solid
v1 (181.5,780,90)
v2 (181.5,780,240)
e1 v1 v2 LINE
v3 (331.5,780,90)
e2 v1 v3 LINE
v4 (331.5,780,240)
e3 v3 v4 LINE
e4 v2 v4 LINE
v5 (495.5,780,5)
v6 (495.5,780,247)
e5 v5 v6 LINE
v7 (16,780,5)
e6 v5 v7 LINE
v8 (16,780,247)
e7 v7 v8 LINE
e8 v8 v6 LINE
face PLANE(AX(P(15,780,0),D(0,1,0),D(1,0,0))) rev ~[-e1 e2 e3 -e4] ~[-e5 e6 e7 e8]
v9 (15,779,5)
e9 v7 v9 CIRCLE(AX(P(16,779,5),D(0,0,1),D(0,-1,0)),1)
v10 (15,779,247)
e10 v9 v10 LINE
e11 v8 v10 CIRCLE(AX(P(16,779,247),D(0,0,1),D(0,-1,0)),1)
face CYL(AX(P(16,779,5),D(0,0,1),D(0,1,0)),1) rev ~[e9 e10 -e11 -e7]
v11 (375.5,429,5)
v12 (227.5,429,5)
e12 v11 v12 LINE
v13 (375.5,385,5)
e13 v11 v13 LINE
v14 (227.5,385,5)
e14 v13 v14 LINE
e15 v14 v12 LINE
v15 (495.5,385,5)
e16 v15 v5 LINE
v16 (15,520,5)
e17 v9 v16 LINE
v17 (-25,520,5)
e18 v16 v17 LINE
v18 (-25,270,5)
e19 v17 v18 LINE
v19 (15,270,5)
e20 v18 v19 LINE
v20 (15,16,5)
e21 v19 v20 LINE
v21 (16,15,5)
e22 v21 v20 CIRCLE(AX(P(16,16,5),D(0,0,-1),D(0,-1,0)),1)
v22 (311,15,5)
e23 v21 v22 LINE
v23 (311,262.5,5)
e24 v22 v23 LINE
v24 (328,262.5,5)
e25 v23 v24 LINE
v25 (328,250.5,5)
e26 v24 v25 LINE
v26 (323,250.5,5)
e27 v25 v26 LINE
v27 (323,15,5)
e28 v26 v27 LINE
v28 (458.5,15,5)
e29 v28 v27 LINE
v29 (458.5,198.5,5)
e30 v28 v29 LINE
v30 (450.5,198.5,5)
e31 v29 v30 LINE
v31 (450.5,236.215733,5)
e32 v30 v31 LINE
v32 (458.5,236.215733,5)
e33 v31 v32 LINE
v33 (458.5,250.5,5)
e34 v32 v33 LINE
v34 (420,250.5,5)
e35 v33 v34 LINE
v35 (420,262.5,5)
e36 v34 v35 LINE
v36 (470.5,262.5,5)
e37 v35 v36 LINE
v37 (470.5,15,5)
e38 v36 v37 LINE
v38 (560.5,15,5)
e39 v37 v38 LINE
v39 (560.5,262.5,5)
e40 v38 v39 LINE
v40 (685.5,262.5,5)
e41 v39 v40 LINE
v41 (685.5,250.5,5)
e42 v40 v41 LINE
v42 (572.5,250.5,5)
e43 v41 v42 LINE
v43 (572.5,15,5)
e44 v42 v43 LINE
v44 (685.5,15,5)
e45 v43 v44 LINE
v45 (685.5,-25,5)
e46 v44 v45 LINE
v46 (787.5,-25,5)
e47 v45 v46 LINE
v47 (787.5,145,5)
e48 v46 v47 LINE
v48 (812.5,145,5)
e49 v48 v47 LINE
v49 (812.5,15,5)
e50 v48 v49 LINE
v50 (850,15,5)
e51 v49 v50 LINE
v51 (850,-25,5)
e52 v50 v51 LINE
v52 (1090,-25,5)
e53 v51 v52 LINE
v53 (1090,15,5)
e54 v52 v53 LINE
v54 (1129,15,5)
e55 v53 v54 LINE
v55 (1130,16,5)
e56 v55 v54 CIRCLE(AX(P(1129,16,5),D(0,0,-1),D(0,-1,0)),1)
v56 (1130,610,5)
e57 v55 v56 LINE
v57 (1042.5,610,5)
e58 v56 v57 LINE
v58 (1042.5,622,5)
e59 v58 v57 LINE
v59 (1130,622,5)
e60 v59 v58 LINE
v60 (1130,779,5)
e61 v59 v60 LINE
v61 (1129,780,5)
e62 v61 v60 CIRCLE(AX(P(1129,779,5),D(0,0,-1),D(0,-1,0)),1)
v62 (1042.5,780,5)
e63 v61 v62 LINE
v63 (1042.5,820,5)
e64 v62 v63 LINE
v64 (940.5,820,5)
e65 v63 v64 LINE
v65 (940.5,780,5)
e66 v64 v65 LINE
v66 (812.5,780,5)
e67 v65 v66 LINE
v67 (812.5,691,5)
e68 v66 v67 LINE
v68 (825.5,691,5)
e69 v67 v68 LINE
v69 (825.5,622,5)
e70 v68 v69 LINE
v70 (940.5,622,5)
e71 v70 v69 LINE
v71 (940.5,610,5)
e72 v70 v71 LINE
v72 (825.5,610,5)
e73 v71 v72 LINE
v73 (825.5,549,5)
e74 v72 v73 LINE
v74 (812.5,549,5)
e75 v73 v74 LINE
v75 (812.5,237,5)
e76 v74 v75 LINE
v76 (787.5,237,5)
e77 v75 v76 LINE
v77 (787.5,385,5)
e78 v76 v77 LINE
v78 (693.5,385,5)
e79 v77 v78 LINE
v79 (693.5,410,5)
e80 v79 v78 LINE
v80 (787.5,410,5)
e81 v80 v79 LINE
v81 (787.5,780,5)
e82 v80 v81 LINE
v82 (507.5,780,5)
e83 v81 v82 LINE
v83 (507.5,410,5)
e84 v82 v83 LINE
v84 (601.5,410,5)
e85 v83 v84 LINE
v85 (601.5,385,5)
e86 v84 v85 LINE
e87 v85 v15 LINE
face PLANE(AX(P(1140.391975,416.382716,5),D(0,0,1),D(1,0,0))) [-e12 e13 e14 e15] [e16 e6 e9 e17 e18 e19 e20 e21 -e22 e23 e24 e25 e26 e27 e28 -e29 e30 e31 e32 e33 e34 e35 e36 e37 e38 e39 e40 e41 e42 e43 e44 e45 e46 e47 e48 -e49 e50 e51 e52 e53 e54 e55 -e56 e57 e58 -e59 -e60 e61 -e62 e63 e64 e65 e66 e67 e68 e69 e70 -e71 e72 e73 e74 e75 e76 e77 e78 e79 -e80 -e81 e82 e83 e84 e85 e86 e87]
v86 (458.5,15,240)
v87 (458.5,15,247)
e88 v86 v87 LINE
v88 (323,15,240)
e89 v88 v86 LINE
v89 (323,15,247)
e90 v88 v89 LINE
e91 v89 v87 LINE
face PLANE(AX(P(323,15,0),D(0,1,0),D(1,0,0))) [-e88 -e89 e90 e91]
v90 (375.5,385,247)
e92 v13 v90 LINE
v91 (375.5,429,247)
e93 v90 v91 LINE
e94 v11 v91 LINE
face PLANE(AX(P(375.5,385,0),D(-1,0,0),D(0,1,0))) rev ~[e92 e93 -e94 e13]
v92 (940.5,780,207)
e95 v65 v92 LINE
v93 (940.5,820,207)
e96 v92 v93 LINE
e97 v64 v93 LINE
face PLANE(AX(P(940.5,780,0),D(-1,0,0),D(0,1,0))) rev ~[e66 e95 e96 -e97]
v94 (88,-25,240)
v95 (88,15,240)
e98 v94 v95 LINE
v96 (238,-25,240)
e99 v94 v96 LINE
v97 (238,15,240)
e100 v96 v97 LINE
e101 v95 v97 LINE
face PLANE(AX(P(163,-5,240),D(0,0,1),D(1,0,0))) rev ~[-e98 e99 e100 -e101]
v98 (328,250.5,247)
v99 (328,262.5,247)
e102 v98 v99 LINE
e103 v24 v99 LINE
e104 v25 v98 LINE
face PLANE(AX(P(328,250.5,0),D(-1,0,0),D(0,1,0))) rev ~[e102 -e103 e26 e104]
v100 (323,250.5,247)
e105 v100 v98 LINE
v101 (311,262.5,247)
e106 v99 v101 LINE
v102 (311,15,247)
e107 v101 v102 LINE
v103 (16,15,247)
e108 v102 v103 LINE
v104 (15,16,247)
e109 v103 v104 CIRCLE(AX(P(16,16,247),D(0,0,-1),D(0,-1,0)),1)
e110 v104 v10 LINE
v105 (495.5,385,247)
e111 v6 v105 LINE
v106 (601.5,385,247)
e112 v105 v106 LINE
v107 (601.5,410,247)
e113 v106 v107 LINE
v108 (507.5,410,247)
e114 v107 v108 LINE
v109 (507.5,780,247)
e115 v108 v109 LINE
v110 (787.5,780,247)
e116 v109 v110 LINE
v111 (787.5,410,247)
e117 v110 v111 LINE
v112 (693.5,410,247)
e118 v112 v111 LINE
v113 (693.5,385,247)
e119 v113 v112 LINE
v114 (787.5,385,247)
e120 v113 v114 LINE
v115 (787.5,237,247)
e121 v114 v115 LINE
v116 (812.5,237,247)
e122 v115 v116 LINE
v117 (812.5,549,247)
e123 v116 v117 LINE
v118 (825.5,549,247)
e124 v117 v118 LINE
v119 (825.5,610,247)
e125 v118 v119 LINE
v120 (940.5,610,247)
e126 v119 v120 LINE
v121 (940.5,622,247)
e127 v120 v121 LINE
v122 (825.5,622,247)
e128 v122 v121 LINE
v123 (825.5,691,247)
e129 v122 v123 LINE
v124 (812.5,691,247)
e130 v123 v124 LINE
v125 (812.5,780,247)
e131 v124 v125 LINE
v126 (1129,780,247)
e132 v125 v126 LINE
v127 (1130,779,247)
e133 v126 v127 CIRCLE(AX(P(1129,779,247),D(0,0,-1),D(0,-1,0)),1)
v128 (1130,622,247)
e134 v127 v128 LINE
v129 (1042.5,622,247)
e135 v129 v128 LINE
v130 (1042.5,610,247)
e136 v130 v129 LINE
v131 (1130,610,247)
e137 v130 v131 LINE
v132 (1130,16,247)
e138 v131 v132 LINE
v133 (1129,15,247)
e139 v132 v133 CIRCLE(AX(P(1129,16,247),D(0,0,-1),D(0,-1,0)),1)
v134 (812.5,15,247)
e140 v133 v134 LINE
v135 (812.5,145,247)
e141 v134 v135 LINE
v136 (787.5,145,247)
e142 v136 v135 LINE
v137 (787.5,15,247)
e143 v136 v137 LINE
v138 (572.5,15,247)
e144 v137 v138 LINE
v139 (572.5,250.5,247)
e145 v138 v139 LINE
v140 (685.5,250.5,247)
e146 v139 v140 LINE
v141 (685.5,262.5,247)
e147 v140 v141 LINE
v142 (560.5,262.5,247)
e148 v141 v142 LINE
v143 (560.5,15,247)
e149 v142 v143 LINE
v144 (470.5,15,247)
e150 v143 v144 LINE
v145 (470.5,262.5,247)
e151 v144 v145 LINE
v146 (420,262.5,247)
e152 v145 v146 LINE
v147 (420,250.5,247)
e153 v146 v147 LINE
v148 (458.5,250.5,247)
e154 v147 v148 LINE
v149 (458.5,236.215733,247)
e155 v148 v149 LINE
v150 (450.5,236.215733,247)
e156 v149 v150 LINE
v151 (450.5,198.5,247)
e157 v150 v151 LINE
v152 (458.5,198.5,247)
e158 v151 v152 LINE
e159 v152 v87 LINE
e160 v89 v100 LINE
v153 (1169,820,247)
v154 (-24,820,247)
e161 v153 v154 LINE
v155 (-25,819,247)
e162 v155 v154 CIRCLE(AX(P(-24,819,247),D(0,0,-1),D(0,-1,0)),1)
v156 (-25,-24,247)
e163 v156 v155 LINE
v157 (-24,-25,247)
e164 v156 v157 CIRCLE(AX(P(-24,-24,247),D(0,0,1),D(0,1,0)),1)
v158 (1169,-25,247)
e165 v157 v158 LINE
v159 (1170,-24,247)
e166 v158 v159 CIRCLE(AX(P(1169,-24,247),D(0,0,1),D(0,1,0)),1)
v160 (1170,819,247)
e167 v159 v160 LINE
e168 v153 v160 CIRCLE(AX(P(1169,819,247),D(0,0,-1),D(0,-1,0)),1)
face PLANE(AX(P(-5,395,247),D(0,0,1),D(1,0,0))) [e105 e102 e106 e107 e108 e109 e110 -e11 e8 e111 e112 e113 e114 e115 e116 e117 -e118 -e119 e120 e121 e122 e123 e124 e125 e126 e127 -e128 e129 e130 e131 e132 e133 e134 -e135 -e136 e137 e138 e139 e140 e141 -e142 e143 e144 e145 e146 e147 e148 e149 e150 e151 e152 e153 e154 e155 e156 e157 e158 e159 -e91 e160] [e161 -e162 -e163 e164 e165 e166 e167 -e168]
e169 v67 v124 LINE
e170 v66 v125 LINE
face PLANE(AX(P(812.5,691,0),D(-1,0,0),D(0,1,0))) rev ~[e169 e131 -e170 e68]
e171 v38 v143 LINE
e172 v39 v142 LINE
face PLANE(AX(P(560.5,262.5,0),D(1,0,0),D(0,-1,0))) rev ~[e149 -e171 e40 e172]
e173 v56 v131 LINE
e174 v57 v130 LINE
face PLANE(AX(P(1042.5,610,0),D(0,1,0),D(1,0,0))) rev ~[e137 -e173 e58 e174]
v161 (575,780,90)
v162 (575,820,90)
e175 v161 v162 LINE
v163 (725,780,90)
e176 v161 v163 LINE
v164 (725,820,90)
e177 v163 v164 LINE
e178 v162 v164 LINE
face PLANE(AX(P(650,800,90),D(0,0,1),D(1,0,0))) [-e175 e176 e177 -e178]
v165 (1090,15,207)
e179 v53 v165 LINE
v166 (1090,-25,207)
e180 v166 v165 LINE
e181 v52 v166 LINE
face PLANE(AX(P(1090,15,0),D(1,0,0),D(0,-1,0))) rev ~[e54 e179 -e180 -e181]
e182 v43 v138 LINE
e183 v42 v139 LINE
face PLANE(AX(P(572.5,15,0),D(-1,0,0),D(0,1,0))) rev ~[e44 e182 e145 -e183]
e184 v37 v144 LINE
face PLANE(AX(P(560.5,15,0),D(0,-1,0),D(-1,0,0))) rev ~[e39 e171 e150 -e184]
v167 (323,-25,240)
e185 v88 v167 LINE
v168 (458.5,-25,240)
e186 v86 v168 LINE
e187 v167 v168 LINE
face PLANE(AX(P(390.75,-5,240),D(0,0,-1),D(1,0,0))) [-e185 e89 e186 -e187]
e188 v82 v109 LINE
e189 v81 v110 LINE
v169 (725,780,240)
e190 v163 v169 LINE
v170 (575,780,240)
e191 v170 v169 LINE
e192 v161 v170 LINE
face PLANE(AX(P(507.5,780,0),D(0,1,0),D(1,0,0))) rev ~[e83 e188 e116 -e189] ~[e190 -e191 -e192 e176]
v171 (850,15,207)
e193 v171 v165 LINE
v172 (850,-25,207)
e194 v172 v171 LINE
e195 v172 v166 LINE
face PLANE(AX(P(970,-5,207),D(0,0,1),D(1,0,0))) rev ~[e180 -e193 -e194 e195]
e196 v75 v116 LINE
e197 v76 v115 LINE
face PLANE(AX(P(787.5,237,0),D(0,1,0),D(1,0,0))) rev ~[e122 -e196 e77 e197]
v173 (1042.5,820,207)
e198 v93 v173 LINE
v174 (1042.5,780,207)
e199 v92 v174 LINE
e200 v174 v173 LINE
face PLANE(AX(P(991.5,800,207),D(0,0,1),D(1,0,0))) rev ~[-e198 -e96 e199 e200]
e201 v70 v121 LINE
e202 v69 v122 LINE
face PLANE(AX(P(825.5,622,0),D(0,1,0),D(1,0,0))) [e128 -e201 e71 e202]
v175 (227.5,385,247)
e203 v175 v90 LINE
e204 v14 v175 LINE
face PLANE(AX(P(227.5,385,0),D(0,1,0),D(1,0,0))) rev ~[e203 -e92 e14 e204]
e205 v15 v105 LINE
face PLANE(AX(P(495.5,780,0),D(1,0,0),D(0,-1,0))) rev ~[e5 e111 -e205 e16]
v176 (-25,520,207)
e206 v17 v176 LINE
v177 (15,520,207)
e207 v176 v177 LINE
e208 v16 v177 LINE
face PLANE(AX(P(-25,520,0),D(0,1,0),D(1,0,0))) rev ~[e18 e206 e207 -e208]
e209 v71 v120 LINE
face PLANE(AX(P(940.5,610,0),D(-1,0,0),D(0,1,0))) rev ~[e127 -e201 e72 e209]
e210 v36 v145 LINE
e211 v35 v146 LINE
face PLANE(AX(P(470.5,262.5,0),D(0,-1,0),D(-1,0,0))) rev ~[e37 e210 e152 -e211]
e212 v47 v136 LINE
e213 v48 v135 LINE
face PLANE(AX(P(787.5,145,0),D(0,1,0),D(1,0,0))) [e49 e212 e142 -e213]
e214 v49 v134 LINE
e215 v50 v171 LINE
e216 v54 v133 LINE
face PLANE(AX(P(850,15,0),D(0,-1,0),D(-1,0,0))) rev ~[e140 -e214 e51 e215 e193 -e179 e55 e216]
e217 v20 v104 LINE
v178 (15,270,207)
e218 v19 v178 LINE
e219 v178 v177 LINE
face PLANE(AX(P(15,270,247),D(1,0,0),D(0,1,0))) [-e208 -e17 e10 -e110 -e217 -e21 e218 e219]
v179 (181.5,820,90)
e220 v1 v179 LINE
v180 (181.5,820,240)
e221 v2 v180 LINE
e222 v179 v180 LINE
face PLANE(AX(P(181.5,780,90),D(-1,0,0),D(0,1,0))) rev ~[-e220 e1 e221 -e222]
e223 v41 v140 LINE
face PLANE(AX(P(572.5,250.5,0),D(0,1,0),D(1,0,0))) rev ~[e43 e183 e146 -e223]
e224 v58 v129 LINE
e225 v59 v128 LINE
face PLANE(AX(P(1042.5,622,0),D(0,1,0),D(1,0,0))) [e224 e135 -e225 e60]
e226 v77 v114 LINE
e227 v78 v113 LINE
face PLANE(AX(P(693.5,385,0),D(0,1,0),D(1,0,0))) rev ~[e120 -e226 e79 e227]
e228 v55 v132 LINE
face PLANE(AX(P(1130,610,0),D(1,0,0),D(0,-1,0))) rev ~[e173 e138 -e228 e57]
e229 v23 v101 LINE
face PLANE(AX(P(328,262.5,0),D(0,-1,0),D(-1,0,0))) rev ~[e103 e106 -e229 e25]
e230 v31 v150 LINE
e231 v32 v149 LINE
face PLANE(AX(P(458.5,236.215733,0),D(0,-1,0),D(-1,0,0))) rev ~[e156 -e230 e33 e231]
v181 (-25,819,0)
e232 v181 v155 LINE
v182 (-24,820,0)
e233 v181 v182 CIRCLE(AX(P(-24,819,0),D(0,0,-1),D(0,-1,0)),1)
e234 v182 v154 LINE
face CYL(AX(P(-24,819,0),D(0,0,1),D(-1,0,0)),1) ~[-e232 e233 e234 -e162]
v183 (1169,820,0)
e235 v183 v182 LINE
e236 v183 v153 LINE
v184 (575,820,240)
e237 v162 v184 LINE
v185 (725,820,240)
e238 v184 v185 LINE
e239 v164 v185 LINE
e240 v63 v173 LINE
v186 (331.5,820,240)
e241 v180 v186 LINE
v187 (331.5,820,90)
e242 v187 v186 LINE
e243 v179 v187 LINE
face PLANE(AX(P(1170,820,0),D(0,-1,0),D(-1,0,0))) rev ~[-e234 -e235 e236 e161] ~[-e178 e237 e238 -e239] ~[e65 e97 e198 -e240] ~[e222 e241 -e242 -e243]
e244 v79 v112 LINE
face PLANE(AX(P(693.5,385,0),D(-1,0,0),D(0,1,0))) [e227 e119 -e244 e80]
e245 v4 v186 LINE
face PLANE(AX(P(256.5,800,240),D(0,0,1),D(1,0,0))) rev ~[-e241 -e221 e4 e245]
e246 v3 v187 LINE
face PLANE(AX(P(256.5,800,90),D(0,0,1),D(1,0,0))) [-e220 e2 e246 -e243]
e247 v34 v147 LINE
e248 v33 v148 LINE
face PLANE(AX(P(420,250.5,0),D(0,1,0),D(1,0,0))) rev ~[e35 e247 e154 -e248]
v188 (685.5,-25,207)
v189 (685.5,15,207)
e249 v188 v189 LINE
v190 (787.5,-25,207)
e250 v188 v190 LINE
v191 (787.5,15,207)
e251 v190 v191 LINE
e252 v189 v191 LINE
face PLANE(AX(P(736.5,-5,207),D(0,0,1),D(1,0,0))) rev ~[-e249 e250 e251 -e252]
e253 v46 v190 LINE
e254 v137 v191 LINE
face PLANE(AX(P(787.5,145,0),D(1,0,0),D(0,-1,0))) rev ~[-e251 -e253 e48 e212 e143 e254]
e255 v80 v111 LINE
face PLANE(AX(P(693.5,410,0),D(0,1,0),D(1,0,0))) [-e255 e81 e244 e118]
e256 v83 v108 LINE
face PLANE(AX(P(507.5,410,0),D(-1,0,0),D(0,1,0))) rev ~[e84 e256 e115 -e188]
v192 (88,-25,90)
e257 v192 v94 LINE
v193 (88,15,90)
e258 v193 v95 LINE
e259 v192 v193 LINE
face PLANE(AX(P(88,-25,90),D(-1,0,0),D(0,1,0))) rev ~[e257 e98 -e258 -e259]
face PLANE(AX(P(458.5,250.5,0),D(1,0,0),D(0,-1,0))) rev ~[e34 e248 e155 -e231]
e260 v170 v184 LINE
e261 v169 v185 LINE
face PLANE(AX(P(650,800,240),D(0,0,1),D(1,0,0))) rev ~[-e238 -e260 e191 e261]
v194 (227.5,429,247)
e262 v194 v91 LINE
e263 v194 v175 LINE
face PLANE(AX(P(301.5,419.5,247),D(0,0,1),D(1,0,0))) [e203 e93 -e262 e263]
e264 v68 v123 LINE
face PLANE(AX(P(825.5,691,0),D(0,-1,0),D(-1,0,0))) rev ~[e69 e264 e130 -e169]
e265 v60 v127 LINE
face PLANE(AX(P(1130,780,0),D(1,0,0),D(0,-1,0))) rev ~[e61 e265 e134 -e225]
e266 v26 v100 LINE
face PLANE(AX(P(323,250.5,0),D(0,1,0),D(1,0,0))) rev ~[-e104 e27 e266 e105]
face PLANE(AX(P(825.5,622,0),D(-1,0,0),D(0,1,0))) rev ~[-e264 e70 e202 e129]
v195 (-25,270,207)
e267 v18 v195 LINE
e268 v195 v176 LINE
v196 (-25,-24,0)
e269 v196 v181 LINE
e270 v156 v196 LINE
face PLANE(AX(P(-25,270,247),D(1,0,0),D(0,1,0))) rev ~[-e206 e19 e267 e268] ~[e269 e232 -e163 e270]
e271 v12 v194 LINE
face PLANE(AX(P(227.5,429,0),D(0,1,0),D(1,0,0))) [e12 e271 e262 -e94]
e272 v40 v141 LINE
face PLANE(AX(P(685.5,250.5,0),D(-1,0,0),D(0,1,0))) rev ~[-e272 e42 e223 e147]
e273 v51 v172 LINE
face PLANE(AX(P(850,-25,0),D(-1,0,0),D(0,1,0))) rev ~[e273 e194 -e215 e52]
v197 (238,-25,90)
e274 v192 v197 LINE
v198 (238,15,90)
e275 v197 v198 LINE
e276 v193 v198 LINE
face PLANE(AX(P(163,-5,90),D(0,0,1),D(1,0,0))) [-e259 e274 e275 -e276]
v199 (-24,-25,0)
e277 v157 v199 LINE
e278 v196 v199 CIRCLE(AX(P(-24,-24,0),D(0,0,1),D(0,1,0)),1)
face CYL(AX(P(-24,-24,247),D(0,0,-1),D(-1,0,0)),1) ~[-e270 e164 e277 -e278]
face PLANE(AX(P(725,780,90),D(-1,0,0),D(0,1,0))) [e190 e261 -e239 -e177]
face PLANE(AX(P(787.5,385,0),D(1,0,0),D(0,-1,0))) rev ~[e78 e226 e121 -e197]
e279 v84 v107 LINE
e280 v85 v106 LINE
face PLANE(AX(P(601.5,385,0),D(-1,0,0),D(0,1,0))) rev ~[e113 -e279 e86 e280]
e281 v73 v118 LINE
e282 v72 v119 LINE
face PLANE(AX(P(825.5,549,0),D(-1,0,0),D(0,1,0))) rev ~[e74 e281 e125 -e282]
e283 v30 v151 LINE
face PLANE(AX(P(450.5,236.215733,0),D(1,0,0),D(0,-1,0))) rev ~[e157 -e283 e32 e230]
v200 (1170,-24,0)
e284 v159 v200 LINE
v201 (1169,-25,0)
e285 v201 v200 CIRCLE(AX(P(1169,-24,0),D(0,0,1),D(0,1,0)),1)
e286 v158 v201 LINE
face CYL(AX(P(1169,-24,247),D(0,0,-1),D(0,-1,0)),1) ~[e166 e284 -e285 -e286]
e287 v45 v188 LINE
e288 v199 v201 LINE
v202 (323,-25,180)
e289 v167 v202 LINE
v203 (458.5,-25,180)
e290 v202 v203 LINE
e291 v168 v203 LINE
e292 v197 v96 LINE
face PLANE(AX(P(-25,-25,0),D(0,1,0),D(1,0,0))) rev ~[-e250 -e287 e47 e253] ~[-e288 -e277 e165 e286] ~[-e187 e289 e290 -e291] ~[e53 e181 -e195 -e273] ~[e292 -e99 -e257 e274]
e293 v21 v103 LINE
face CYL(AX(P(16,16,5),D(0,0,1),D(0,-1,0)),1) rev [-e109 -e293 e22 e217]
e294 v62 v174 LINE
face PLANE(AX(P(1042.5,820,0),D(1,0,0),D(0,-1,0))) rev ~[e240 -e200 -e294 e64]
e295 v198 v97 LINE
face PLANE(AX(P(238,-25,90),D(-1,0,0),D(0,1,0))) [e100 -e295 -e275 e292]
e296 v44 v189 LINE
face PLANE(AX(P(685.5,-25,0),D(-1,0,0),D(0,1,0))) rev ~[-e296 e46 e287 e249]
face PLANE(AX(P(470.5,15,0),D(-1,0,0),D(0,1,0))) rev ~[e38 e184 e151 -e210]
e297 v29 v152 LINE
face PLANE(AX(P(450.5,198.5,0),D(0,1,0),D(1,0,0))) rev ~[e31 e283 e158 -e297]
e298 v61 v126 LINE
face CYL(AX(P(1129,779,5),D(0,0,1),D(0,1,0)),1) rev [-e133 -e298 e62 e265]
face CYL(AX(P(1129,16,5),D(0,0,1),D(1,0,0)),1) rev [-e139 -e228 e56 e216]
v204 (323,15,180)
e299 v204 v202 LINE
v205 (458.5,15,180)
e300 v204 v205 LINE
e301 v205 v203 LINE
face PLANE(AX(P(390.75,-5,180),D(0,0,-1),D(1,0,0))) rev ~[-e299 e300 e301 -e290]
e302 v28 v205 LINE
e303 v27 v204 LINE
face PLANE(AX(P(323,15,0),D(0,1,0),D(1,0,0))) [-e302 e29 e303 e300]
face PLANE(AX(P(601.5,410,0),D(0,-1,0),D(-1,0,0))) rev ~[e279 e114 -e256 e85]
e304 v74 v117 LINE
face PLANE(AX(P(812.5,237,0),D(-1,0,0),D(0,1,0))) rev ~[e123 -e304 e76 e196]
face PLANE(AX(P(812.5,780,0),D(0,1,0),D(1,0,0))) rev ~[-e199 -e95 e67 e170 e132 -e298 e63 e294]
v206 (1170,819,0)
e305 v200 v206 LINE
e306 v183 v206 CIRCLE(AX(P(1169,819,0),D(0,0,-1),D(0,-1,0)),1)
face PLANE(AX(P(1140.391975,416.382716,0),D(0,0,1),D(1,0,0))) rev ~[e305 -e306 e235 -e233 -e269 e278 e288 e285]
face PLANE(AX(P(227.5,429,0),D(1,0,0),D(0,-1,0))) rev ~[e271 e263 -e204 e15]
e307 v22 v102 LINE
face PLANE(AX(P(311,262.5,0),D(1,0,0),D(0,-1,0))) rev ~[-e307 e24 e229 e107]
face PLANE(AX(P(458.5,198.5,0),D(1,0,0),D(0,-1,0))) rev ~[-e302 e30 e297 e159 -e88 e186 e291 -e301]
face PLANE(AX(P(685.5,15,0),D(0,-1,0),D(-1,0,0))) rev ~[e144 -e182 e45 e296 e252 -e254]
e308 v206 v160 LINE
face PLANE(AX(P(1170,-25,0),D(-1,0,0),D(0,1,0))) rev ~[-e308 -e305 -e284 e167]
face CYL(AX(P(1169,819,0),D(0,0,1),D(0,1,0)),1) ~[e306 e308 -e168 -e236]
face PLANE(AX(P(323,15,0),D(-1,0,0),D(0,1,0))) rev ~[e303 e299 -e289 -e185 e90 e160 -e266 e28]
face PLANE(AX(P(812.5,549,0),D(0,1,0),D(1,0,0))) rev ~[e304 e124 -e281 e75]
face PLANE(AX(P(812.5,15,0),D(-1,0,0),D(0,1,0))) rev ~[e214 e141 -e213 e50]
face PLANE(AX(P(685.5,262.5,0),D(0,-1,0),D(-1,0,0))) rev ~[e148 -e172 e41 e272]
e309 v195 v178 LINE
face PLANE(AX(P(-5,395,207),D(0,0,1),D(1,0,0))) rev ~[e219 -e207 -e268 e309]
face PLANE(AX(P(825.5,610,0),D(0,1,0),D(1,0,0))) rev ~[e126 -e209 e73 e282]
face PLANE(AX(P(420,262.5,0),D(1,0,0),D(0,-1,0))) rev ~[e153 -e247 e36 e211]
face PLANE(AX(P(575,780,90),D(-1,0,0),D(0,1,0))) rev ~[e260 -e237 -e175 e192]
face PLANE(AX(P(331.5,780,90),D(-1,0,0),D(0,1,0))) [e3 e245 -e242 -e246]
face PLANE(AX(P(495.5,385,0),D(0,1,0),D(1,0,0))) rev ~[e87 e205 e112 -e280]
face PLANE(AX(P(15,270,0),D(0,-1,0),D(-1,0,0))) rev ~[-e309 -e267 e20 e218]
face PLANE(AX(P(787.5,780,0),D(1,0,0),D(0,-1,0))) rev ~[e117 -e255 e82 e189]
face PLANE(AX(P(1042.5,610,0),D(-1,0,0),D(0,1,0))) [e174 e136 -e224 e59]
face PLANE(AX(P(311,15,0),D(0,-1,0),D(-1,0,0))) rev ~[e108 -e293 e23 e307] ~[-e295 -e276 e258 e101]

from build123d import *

# Parameters (mm, degrees)
F0_W     = 102
F0_H     = 40
F0_W_2   = 240
F0_W_3   = 94
F0_H_2   = 25
F0_W_4   = 148
F0_W_5   = 92
F0_W_6   = 120
F0_H_3   = 19
F0_W_7   = 25
F0_H_4   = 92
F0_H_5   = 12
F0_W_8   = 12
F0_H_6   = 370
F0_W_9   = 87.5
F0_H_7   = 130
F0_W_10  = 212.5
F0_W_11  = 115
F0_W_12  = 150
F0_W_13  = 135.5
F1_DEPTH = 5
F2_DEPTH = 247
F3_W     = 40
F3_H     = 250
F3_W_2   = 102
F3_H_2   = 40
F3_W_3   = 240
F4_DEPTH = 40
F6_W     = 150
F6_H     = 40
F7_DEPTH = 150
F8_W     = 135.5
F8_H     = 40
F9_DEPTH = 60
F10_R    = 1


with BuildPart() as f1:
    # F0 (on Top) → F1 (new body)
    with BuildSketch(Plane.XY):
        Polygon((1170, -25), (1170, 820), (1042.5, 820), (1042.5, 780), (1130, 780), (1130, 622), (1130, 610), (1130, 15), (1090, 15), (1090, -25), align=None)
        with Locations((991.5, 800)):
            Rectangle(F0_W, F0_H)
        Polygon((940.5, 780), (940.5, 820), (725, 820), (725, 780), (787.5, 780), (812.5, 780), align=None)
        Polygon((15, 520), (-25, 520), (-25, 270), (15, 270), (15, 385), (15, 410), align=None)
        Polygon((458.5, -25), (685.5, -25), (685.5, 15), (572.5, 15), (560.5, 15), (470.5, 15), (458.5, 15), align=None)
        Polygon((685.5, -25), (787.5, -25), (787.5, 0), (787.5, 15), (685.5, 15), align=None)
        Polygon((787.5, -25), (850, -25), (850, 15), (812.5, 15), (787.5, 15), (787.5, 0), align=None)
        with Locations((970, -5)):
            Rectangle(F0_W_2, F0_H)
        Polygon((850, 15), (1090, 15), (1130, 15), (1130, 610), (1042.5, 610), (940.5, 610), (825.5, 610), (825.5, 549), (812.5, 549), (812.5, 237), (812.5, 145), (812.5, 15), align=None)
        with Locations((740.5, 397.5)):
            Rectangle(F0_W_3, F0_H_2)
        with Locations((301.5, 397.5)):
            Rectangle(F0_W_4, F0_H_2)
        with Locations((647.5, 397.5)):
            Rectangle(F0_W_5, F0_H_2)
        Polygon((601.5, 410), (507.5, 410), (495.5, 410), (495.5, 385), (601.5, 385), align=None)
        with Locations((435.5, 397.5)):
            Rectangle(F0_W_6, F0_H_2)
        Polygon((825.5, 691), (812.5, 691), (812.5, 549), (825.5, 549), (825.5, 610), (825.5, 622), align=None)
        with Locations((301.5, 419.5)):
            Rectangle(F0_W_4, F0_H_3)
        Polygon((495.5, 780), (331.5, 780), (181.5, 780), (15, 780), (15, 520), (15, 410), (227.5, 410), (227.5, 429), (375.5, 429), (375.5, 410), (495.5, 410), align=None)
        Polygon((1130, 780), (1042.5, 780), (940.5, 780), (812.5, 780), (812.5, 691), (825.5, 691), (825.5, 622), (940.5, 622), (1042.5, 622), (1130, 622), align=None)
        Polygon((311, 15), (323, 15), (323, 250.5), (328, 250.5), (328, 262.5), (311, 262.5), align=None)
        Polygon((572.5, 15), (685.5, 15), (787.5, 15), (787.5, 145), (787.5, 237), (787.5, 385), (693.5, 385), (601.5, 385), (495.5, 385), (375.5, 385), (227.5, 385), (15, 385), (15, 270), (15, 15), (88, 15), (238, 15), (311, 15), (311, 262.5), (328, 262.5), (328, 250.5), (323, 250.5), (323, 15), (458.5, 15), (458.5, 198.5), (450.5, 198.5), (450.5, 236.2157330513), (458.5, 236.2157330513), (458.5, 250.5), (420, 250.5), (420, 262.5), (470.5, 262.5), (470.5, 15), (560.5, 15), (560.5, 262.5), (685.5, 262.5), (685.5, 250.5), (572.5, 250.5), align=None)
        Polygon((812.5, 691), (812.5, 780), (787.5, 780), (787.5, 410), (787.5, 385), (787.5, 237), (812.5, 237), (812.5, 549), align=None)
        with Locations((800, 191)):
            Rectangle(F0_W_7, F0_H_4)
        with Locations((991.5, 616)):
            Rectangle(F0_W, F0_H_5)
        Polygon((560.5, 15), (572.5, 15), (572.5, 250.5), (685.5, 250.5), (685.5, 262.5), (560.5, 262.5), align=None)
        with Locations((501.5, 595)):
            Rectangle(F0_W_8, F0_H_6)
        with Locations((1086.25, 616)):
            Rectangle(F0_W_9, F0_H_5)
        with Locations((800, 80)):
            Rectangle(F0_W_7, F0_H_7)
        with Locations((121.25, 397.5)):
            Rectangle(F0_W_10, F0_H_2)
        Polygon((458.5, 198.5), (458.5, 15), (470.5, 15), (470.5, 262.5), (420, 262.5), (420, 250.5), (458.5, 250.5), (458.5, 236.2157330513), (450.5, 236.2157330513), (450.5, 198.5), align=None)
        with Locations((883, 616)):
            Rectangle(F0_W_11, F0_H_5)
        Polygon((787.5, 780), (725, 780), (575, 780), (507.5, 780), (507.5, 410), (601.5, 410), (693.5, 410), (787.5, 410), align=None)
        Polygon((181.5, 780), (181.5, 820), (-25, 820), (-25, 520), (15, 520), (15, 780), align=None)
        with Locations((256.5, 800)):
            Rectangle(F0_W_12, F0_H)
        Polygon((575, 780), (575, 820), (331.5, 820), (331.5, 780), (495.5, 780), (507.5, 780), align=None)
        with Locations((650, 800)):
            Rectangle(F0_W_12, F0_H)
        Polygon((15, 270), (-25, 270), (-25, -25), (88, -25), (88, 15), (15, 15), align=None)
        with Locations((163, -5)):
            Rectangle(F0_W_12, F0_H)
        Polygon((238, -25), (323, -25), (323, 15), (311, 15), (238, 15), align=None)
        with Locations((390.75, -5)):
            Rectangle(F0_W_13, F0_H)
    extrude(amount=F1_DEPTH)

    # F0 (on Top) → F2 (join)
    with BuildSketch(Plane.XY):
        Polygon((1170, -25), (1170, 820), (1042.5, 820), (1042.5, 780), (1130, 780), (1130, 622), (1130, 610), (1130, 15), (1090, 15), (1090, -25), align=None)
        Polygon((940.5, 780), (940.5, 820), (725, 820), (725, 780), (787.5, 780), (812.5, 780), align=None)
        Polygon((458.5, -25), (685.5, -25), (685.5, 15), (572.5, 15), (560.5, 15), (470.5, 15), (458.5, 15), align=None)
        Polygon((787.5, -25), (850, -25), (850, 15), (812.5, 15), (787.5, 15), (787.5, 0), align=None)
        with Locations((800, 80)):
            Rectangle(F0_W_7, F0_H_7)
        Polygon((812.5, 691), (812.5, 780), (787.5, 780), (787.5, 410), (787.5, 385), (787.5, 237), (812.5, 237), (812.5, 549), align=None)
        Polygon((825.5, 691), (812.5, 691), (812.5, 549), (825.5, 549), (825.5, 610), (825.5, 622), align=None)
        with Locations((883, 616)):
            Rectangle(F0_W_11, F0_H_5)
        with Locations((1086.25, 616)):
            Rectangle(F0_W_9, F0_H_5)
        with Locations((740.5, 397.5)):
            Rectangle(F0_W_3, F0_H_2)
        Polygon((601.5, 410), (507.5, 410), (495.5, 410), (495.5, 385), (601.5, 385), align=None)
        with Locations((501.5, 595)):
            Rectangle(F0_W_8, F0_H_6)
        with Locations((301.5, 419.5)):
            Rectangle(F0_W_4, F0_H_3)
        with Locations((301.5, 397.5)):
            Rectangle(F0_W_4, F0_H_2)
        Polygon((311, 15), (323, 15), (323, 250.5), (328, 250.5), (328, 262.5), (311, 262.5), align=None)
        Polygon((458.5, 198.5), (458.5, 15), (470.5, 15), (470.5, 262.5), (420, 262.5), (420, 250.5), (458.5, 250.5), (458.5, 236.2157330513), (450.5, 236.2157330513), (450.5, 198.5), align=None)
        Polygon((560.5, 15), (572.5, 15), (572.5, 250.5), (685.5, 250.5), (685.5, 262.5), (560.5, 262.5), align=None)
        Polygon((15, 270), (-25, 270), (-25, -25), (88, -25), (88, 15), (15, 15), align=None)
        Polygon((238, -25), (323, -25), (323, 15), (311, 15), (238, 15), align=None)
        with Locations((390.75, -5)):
            Rectangle(F0_W_13, F0_H)
        with Locations((163, -5)):
            Rectangle(F0_W_12, F0_H)
        Polygon((181.5, 780), (181.5, 820), (-25, 820), (-25, 520), (15, 520), (15, 780), align=None)
        with Locations((256.5, 800)):
            Rectangle(F0_W_12, F0_H)
        Polygon((575, 780), (575, 820), (331.5, 820), (331.5, 780), (495.5, 780), (507.5, 780), align=None)
        with Locations((650, 800)):
            Rectangle(F0_W_12, F0_H)
    extrude(amount=F2_DEPTH)

    # F3 (on face) → F4 (join)
    with BuildSketch(Plane.XY.offset(247)):
        with Locations((-5, 395)):
            Rectangle(F3_W, F3_H)
        with Locations((736.5, -5)):
            Rectangle(F3_W_2, F3_H_2)
        with Locations((970, -5)):
            Rectangle(F3_W_3, F3_H_2)
        with Locations((991.5, 800)):
            Rectangle(F3_W_2, F3_H_2)
    extrude(amount=-F4_DEPTH)

    # F6 (on offset) → F7 (cut)
    with BuildSketch(Plane.XY.offset(90)):
        with Locations((650, 800)):
            Rectangle(F6_W, F6_H)
        with Locations((256.5, 800)):
            Rectangle(F6_W, F6_H)
        with Locations((163, -5)):
            Rectangle(F6_W, F6_H)
    extrude(amount=F7_DEPTH, mode=Mode.SUBTRACT)

    # F8 (on face) → F9 (cut)
    with BuildSketch(Plane(origin=(0, 0, 240), x_dir=(1, 0, 0), z_dir=(0, 0, -1))):
        with Locations((390.75, 5)):
            Rectangle(F8_W, F8_H)
    extrude(amount=F9_DEPTH, mode=Mode.SUBTRACT)

    # F10
    f10_edges = [f1.edges().sort_by_distance(p)[0] for p in [
        (-25, -25, 123.5),
        (1170, -25, 123.5),
        (1170, 820, 123.5),
        (-25, 820, 123.5),
        (1130, 15, 126),
        (15, 15, 126),
        (15, 780, 126),
        (1130, 780, 126),
    ]]
    fillet(f10_edges, radius=F10_R)


solid = f1.part
